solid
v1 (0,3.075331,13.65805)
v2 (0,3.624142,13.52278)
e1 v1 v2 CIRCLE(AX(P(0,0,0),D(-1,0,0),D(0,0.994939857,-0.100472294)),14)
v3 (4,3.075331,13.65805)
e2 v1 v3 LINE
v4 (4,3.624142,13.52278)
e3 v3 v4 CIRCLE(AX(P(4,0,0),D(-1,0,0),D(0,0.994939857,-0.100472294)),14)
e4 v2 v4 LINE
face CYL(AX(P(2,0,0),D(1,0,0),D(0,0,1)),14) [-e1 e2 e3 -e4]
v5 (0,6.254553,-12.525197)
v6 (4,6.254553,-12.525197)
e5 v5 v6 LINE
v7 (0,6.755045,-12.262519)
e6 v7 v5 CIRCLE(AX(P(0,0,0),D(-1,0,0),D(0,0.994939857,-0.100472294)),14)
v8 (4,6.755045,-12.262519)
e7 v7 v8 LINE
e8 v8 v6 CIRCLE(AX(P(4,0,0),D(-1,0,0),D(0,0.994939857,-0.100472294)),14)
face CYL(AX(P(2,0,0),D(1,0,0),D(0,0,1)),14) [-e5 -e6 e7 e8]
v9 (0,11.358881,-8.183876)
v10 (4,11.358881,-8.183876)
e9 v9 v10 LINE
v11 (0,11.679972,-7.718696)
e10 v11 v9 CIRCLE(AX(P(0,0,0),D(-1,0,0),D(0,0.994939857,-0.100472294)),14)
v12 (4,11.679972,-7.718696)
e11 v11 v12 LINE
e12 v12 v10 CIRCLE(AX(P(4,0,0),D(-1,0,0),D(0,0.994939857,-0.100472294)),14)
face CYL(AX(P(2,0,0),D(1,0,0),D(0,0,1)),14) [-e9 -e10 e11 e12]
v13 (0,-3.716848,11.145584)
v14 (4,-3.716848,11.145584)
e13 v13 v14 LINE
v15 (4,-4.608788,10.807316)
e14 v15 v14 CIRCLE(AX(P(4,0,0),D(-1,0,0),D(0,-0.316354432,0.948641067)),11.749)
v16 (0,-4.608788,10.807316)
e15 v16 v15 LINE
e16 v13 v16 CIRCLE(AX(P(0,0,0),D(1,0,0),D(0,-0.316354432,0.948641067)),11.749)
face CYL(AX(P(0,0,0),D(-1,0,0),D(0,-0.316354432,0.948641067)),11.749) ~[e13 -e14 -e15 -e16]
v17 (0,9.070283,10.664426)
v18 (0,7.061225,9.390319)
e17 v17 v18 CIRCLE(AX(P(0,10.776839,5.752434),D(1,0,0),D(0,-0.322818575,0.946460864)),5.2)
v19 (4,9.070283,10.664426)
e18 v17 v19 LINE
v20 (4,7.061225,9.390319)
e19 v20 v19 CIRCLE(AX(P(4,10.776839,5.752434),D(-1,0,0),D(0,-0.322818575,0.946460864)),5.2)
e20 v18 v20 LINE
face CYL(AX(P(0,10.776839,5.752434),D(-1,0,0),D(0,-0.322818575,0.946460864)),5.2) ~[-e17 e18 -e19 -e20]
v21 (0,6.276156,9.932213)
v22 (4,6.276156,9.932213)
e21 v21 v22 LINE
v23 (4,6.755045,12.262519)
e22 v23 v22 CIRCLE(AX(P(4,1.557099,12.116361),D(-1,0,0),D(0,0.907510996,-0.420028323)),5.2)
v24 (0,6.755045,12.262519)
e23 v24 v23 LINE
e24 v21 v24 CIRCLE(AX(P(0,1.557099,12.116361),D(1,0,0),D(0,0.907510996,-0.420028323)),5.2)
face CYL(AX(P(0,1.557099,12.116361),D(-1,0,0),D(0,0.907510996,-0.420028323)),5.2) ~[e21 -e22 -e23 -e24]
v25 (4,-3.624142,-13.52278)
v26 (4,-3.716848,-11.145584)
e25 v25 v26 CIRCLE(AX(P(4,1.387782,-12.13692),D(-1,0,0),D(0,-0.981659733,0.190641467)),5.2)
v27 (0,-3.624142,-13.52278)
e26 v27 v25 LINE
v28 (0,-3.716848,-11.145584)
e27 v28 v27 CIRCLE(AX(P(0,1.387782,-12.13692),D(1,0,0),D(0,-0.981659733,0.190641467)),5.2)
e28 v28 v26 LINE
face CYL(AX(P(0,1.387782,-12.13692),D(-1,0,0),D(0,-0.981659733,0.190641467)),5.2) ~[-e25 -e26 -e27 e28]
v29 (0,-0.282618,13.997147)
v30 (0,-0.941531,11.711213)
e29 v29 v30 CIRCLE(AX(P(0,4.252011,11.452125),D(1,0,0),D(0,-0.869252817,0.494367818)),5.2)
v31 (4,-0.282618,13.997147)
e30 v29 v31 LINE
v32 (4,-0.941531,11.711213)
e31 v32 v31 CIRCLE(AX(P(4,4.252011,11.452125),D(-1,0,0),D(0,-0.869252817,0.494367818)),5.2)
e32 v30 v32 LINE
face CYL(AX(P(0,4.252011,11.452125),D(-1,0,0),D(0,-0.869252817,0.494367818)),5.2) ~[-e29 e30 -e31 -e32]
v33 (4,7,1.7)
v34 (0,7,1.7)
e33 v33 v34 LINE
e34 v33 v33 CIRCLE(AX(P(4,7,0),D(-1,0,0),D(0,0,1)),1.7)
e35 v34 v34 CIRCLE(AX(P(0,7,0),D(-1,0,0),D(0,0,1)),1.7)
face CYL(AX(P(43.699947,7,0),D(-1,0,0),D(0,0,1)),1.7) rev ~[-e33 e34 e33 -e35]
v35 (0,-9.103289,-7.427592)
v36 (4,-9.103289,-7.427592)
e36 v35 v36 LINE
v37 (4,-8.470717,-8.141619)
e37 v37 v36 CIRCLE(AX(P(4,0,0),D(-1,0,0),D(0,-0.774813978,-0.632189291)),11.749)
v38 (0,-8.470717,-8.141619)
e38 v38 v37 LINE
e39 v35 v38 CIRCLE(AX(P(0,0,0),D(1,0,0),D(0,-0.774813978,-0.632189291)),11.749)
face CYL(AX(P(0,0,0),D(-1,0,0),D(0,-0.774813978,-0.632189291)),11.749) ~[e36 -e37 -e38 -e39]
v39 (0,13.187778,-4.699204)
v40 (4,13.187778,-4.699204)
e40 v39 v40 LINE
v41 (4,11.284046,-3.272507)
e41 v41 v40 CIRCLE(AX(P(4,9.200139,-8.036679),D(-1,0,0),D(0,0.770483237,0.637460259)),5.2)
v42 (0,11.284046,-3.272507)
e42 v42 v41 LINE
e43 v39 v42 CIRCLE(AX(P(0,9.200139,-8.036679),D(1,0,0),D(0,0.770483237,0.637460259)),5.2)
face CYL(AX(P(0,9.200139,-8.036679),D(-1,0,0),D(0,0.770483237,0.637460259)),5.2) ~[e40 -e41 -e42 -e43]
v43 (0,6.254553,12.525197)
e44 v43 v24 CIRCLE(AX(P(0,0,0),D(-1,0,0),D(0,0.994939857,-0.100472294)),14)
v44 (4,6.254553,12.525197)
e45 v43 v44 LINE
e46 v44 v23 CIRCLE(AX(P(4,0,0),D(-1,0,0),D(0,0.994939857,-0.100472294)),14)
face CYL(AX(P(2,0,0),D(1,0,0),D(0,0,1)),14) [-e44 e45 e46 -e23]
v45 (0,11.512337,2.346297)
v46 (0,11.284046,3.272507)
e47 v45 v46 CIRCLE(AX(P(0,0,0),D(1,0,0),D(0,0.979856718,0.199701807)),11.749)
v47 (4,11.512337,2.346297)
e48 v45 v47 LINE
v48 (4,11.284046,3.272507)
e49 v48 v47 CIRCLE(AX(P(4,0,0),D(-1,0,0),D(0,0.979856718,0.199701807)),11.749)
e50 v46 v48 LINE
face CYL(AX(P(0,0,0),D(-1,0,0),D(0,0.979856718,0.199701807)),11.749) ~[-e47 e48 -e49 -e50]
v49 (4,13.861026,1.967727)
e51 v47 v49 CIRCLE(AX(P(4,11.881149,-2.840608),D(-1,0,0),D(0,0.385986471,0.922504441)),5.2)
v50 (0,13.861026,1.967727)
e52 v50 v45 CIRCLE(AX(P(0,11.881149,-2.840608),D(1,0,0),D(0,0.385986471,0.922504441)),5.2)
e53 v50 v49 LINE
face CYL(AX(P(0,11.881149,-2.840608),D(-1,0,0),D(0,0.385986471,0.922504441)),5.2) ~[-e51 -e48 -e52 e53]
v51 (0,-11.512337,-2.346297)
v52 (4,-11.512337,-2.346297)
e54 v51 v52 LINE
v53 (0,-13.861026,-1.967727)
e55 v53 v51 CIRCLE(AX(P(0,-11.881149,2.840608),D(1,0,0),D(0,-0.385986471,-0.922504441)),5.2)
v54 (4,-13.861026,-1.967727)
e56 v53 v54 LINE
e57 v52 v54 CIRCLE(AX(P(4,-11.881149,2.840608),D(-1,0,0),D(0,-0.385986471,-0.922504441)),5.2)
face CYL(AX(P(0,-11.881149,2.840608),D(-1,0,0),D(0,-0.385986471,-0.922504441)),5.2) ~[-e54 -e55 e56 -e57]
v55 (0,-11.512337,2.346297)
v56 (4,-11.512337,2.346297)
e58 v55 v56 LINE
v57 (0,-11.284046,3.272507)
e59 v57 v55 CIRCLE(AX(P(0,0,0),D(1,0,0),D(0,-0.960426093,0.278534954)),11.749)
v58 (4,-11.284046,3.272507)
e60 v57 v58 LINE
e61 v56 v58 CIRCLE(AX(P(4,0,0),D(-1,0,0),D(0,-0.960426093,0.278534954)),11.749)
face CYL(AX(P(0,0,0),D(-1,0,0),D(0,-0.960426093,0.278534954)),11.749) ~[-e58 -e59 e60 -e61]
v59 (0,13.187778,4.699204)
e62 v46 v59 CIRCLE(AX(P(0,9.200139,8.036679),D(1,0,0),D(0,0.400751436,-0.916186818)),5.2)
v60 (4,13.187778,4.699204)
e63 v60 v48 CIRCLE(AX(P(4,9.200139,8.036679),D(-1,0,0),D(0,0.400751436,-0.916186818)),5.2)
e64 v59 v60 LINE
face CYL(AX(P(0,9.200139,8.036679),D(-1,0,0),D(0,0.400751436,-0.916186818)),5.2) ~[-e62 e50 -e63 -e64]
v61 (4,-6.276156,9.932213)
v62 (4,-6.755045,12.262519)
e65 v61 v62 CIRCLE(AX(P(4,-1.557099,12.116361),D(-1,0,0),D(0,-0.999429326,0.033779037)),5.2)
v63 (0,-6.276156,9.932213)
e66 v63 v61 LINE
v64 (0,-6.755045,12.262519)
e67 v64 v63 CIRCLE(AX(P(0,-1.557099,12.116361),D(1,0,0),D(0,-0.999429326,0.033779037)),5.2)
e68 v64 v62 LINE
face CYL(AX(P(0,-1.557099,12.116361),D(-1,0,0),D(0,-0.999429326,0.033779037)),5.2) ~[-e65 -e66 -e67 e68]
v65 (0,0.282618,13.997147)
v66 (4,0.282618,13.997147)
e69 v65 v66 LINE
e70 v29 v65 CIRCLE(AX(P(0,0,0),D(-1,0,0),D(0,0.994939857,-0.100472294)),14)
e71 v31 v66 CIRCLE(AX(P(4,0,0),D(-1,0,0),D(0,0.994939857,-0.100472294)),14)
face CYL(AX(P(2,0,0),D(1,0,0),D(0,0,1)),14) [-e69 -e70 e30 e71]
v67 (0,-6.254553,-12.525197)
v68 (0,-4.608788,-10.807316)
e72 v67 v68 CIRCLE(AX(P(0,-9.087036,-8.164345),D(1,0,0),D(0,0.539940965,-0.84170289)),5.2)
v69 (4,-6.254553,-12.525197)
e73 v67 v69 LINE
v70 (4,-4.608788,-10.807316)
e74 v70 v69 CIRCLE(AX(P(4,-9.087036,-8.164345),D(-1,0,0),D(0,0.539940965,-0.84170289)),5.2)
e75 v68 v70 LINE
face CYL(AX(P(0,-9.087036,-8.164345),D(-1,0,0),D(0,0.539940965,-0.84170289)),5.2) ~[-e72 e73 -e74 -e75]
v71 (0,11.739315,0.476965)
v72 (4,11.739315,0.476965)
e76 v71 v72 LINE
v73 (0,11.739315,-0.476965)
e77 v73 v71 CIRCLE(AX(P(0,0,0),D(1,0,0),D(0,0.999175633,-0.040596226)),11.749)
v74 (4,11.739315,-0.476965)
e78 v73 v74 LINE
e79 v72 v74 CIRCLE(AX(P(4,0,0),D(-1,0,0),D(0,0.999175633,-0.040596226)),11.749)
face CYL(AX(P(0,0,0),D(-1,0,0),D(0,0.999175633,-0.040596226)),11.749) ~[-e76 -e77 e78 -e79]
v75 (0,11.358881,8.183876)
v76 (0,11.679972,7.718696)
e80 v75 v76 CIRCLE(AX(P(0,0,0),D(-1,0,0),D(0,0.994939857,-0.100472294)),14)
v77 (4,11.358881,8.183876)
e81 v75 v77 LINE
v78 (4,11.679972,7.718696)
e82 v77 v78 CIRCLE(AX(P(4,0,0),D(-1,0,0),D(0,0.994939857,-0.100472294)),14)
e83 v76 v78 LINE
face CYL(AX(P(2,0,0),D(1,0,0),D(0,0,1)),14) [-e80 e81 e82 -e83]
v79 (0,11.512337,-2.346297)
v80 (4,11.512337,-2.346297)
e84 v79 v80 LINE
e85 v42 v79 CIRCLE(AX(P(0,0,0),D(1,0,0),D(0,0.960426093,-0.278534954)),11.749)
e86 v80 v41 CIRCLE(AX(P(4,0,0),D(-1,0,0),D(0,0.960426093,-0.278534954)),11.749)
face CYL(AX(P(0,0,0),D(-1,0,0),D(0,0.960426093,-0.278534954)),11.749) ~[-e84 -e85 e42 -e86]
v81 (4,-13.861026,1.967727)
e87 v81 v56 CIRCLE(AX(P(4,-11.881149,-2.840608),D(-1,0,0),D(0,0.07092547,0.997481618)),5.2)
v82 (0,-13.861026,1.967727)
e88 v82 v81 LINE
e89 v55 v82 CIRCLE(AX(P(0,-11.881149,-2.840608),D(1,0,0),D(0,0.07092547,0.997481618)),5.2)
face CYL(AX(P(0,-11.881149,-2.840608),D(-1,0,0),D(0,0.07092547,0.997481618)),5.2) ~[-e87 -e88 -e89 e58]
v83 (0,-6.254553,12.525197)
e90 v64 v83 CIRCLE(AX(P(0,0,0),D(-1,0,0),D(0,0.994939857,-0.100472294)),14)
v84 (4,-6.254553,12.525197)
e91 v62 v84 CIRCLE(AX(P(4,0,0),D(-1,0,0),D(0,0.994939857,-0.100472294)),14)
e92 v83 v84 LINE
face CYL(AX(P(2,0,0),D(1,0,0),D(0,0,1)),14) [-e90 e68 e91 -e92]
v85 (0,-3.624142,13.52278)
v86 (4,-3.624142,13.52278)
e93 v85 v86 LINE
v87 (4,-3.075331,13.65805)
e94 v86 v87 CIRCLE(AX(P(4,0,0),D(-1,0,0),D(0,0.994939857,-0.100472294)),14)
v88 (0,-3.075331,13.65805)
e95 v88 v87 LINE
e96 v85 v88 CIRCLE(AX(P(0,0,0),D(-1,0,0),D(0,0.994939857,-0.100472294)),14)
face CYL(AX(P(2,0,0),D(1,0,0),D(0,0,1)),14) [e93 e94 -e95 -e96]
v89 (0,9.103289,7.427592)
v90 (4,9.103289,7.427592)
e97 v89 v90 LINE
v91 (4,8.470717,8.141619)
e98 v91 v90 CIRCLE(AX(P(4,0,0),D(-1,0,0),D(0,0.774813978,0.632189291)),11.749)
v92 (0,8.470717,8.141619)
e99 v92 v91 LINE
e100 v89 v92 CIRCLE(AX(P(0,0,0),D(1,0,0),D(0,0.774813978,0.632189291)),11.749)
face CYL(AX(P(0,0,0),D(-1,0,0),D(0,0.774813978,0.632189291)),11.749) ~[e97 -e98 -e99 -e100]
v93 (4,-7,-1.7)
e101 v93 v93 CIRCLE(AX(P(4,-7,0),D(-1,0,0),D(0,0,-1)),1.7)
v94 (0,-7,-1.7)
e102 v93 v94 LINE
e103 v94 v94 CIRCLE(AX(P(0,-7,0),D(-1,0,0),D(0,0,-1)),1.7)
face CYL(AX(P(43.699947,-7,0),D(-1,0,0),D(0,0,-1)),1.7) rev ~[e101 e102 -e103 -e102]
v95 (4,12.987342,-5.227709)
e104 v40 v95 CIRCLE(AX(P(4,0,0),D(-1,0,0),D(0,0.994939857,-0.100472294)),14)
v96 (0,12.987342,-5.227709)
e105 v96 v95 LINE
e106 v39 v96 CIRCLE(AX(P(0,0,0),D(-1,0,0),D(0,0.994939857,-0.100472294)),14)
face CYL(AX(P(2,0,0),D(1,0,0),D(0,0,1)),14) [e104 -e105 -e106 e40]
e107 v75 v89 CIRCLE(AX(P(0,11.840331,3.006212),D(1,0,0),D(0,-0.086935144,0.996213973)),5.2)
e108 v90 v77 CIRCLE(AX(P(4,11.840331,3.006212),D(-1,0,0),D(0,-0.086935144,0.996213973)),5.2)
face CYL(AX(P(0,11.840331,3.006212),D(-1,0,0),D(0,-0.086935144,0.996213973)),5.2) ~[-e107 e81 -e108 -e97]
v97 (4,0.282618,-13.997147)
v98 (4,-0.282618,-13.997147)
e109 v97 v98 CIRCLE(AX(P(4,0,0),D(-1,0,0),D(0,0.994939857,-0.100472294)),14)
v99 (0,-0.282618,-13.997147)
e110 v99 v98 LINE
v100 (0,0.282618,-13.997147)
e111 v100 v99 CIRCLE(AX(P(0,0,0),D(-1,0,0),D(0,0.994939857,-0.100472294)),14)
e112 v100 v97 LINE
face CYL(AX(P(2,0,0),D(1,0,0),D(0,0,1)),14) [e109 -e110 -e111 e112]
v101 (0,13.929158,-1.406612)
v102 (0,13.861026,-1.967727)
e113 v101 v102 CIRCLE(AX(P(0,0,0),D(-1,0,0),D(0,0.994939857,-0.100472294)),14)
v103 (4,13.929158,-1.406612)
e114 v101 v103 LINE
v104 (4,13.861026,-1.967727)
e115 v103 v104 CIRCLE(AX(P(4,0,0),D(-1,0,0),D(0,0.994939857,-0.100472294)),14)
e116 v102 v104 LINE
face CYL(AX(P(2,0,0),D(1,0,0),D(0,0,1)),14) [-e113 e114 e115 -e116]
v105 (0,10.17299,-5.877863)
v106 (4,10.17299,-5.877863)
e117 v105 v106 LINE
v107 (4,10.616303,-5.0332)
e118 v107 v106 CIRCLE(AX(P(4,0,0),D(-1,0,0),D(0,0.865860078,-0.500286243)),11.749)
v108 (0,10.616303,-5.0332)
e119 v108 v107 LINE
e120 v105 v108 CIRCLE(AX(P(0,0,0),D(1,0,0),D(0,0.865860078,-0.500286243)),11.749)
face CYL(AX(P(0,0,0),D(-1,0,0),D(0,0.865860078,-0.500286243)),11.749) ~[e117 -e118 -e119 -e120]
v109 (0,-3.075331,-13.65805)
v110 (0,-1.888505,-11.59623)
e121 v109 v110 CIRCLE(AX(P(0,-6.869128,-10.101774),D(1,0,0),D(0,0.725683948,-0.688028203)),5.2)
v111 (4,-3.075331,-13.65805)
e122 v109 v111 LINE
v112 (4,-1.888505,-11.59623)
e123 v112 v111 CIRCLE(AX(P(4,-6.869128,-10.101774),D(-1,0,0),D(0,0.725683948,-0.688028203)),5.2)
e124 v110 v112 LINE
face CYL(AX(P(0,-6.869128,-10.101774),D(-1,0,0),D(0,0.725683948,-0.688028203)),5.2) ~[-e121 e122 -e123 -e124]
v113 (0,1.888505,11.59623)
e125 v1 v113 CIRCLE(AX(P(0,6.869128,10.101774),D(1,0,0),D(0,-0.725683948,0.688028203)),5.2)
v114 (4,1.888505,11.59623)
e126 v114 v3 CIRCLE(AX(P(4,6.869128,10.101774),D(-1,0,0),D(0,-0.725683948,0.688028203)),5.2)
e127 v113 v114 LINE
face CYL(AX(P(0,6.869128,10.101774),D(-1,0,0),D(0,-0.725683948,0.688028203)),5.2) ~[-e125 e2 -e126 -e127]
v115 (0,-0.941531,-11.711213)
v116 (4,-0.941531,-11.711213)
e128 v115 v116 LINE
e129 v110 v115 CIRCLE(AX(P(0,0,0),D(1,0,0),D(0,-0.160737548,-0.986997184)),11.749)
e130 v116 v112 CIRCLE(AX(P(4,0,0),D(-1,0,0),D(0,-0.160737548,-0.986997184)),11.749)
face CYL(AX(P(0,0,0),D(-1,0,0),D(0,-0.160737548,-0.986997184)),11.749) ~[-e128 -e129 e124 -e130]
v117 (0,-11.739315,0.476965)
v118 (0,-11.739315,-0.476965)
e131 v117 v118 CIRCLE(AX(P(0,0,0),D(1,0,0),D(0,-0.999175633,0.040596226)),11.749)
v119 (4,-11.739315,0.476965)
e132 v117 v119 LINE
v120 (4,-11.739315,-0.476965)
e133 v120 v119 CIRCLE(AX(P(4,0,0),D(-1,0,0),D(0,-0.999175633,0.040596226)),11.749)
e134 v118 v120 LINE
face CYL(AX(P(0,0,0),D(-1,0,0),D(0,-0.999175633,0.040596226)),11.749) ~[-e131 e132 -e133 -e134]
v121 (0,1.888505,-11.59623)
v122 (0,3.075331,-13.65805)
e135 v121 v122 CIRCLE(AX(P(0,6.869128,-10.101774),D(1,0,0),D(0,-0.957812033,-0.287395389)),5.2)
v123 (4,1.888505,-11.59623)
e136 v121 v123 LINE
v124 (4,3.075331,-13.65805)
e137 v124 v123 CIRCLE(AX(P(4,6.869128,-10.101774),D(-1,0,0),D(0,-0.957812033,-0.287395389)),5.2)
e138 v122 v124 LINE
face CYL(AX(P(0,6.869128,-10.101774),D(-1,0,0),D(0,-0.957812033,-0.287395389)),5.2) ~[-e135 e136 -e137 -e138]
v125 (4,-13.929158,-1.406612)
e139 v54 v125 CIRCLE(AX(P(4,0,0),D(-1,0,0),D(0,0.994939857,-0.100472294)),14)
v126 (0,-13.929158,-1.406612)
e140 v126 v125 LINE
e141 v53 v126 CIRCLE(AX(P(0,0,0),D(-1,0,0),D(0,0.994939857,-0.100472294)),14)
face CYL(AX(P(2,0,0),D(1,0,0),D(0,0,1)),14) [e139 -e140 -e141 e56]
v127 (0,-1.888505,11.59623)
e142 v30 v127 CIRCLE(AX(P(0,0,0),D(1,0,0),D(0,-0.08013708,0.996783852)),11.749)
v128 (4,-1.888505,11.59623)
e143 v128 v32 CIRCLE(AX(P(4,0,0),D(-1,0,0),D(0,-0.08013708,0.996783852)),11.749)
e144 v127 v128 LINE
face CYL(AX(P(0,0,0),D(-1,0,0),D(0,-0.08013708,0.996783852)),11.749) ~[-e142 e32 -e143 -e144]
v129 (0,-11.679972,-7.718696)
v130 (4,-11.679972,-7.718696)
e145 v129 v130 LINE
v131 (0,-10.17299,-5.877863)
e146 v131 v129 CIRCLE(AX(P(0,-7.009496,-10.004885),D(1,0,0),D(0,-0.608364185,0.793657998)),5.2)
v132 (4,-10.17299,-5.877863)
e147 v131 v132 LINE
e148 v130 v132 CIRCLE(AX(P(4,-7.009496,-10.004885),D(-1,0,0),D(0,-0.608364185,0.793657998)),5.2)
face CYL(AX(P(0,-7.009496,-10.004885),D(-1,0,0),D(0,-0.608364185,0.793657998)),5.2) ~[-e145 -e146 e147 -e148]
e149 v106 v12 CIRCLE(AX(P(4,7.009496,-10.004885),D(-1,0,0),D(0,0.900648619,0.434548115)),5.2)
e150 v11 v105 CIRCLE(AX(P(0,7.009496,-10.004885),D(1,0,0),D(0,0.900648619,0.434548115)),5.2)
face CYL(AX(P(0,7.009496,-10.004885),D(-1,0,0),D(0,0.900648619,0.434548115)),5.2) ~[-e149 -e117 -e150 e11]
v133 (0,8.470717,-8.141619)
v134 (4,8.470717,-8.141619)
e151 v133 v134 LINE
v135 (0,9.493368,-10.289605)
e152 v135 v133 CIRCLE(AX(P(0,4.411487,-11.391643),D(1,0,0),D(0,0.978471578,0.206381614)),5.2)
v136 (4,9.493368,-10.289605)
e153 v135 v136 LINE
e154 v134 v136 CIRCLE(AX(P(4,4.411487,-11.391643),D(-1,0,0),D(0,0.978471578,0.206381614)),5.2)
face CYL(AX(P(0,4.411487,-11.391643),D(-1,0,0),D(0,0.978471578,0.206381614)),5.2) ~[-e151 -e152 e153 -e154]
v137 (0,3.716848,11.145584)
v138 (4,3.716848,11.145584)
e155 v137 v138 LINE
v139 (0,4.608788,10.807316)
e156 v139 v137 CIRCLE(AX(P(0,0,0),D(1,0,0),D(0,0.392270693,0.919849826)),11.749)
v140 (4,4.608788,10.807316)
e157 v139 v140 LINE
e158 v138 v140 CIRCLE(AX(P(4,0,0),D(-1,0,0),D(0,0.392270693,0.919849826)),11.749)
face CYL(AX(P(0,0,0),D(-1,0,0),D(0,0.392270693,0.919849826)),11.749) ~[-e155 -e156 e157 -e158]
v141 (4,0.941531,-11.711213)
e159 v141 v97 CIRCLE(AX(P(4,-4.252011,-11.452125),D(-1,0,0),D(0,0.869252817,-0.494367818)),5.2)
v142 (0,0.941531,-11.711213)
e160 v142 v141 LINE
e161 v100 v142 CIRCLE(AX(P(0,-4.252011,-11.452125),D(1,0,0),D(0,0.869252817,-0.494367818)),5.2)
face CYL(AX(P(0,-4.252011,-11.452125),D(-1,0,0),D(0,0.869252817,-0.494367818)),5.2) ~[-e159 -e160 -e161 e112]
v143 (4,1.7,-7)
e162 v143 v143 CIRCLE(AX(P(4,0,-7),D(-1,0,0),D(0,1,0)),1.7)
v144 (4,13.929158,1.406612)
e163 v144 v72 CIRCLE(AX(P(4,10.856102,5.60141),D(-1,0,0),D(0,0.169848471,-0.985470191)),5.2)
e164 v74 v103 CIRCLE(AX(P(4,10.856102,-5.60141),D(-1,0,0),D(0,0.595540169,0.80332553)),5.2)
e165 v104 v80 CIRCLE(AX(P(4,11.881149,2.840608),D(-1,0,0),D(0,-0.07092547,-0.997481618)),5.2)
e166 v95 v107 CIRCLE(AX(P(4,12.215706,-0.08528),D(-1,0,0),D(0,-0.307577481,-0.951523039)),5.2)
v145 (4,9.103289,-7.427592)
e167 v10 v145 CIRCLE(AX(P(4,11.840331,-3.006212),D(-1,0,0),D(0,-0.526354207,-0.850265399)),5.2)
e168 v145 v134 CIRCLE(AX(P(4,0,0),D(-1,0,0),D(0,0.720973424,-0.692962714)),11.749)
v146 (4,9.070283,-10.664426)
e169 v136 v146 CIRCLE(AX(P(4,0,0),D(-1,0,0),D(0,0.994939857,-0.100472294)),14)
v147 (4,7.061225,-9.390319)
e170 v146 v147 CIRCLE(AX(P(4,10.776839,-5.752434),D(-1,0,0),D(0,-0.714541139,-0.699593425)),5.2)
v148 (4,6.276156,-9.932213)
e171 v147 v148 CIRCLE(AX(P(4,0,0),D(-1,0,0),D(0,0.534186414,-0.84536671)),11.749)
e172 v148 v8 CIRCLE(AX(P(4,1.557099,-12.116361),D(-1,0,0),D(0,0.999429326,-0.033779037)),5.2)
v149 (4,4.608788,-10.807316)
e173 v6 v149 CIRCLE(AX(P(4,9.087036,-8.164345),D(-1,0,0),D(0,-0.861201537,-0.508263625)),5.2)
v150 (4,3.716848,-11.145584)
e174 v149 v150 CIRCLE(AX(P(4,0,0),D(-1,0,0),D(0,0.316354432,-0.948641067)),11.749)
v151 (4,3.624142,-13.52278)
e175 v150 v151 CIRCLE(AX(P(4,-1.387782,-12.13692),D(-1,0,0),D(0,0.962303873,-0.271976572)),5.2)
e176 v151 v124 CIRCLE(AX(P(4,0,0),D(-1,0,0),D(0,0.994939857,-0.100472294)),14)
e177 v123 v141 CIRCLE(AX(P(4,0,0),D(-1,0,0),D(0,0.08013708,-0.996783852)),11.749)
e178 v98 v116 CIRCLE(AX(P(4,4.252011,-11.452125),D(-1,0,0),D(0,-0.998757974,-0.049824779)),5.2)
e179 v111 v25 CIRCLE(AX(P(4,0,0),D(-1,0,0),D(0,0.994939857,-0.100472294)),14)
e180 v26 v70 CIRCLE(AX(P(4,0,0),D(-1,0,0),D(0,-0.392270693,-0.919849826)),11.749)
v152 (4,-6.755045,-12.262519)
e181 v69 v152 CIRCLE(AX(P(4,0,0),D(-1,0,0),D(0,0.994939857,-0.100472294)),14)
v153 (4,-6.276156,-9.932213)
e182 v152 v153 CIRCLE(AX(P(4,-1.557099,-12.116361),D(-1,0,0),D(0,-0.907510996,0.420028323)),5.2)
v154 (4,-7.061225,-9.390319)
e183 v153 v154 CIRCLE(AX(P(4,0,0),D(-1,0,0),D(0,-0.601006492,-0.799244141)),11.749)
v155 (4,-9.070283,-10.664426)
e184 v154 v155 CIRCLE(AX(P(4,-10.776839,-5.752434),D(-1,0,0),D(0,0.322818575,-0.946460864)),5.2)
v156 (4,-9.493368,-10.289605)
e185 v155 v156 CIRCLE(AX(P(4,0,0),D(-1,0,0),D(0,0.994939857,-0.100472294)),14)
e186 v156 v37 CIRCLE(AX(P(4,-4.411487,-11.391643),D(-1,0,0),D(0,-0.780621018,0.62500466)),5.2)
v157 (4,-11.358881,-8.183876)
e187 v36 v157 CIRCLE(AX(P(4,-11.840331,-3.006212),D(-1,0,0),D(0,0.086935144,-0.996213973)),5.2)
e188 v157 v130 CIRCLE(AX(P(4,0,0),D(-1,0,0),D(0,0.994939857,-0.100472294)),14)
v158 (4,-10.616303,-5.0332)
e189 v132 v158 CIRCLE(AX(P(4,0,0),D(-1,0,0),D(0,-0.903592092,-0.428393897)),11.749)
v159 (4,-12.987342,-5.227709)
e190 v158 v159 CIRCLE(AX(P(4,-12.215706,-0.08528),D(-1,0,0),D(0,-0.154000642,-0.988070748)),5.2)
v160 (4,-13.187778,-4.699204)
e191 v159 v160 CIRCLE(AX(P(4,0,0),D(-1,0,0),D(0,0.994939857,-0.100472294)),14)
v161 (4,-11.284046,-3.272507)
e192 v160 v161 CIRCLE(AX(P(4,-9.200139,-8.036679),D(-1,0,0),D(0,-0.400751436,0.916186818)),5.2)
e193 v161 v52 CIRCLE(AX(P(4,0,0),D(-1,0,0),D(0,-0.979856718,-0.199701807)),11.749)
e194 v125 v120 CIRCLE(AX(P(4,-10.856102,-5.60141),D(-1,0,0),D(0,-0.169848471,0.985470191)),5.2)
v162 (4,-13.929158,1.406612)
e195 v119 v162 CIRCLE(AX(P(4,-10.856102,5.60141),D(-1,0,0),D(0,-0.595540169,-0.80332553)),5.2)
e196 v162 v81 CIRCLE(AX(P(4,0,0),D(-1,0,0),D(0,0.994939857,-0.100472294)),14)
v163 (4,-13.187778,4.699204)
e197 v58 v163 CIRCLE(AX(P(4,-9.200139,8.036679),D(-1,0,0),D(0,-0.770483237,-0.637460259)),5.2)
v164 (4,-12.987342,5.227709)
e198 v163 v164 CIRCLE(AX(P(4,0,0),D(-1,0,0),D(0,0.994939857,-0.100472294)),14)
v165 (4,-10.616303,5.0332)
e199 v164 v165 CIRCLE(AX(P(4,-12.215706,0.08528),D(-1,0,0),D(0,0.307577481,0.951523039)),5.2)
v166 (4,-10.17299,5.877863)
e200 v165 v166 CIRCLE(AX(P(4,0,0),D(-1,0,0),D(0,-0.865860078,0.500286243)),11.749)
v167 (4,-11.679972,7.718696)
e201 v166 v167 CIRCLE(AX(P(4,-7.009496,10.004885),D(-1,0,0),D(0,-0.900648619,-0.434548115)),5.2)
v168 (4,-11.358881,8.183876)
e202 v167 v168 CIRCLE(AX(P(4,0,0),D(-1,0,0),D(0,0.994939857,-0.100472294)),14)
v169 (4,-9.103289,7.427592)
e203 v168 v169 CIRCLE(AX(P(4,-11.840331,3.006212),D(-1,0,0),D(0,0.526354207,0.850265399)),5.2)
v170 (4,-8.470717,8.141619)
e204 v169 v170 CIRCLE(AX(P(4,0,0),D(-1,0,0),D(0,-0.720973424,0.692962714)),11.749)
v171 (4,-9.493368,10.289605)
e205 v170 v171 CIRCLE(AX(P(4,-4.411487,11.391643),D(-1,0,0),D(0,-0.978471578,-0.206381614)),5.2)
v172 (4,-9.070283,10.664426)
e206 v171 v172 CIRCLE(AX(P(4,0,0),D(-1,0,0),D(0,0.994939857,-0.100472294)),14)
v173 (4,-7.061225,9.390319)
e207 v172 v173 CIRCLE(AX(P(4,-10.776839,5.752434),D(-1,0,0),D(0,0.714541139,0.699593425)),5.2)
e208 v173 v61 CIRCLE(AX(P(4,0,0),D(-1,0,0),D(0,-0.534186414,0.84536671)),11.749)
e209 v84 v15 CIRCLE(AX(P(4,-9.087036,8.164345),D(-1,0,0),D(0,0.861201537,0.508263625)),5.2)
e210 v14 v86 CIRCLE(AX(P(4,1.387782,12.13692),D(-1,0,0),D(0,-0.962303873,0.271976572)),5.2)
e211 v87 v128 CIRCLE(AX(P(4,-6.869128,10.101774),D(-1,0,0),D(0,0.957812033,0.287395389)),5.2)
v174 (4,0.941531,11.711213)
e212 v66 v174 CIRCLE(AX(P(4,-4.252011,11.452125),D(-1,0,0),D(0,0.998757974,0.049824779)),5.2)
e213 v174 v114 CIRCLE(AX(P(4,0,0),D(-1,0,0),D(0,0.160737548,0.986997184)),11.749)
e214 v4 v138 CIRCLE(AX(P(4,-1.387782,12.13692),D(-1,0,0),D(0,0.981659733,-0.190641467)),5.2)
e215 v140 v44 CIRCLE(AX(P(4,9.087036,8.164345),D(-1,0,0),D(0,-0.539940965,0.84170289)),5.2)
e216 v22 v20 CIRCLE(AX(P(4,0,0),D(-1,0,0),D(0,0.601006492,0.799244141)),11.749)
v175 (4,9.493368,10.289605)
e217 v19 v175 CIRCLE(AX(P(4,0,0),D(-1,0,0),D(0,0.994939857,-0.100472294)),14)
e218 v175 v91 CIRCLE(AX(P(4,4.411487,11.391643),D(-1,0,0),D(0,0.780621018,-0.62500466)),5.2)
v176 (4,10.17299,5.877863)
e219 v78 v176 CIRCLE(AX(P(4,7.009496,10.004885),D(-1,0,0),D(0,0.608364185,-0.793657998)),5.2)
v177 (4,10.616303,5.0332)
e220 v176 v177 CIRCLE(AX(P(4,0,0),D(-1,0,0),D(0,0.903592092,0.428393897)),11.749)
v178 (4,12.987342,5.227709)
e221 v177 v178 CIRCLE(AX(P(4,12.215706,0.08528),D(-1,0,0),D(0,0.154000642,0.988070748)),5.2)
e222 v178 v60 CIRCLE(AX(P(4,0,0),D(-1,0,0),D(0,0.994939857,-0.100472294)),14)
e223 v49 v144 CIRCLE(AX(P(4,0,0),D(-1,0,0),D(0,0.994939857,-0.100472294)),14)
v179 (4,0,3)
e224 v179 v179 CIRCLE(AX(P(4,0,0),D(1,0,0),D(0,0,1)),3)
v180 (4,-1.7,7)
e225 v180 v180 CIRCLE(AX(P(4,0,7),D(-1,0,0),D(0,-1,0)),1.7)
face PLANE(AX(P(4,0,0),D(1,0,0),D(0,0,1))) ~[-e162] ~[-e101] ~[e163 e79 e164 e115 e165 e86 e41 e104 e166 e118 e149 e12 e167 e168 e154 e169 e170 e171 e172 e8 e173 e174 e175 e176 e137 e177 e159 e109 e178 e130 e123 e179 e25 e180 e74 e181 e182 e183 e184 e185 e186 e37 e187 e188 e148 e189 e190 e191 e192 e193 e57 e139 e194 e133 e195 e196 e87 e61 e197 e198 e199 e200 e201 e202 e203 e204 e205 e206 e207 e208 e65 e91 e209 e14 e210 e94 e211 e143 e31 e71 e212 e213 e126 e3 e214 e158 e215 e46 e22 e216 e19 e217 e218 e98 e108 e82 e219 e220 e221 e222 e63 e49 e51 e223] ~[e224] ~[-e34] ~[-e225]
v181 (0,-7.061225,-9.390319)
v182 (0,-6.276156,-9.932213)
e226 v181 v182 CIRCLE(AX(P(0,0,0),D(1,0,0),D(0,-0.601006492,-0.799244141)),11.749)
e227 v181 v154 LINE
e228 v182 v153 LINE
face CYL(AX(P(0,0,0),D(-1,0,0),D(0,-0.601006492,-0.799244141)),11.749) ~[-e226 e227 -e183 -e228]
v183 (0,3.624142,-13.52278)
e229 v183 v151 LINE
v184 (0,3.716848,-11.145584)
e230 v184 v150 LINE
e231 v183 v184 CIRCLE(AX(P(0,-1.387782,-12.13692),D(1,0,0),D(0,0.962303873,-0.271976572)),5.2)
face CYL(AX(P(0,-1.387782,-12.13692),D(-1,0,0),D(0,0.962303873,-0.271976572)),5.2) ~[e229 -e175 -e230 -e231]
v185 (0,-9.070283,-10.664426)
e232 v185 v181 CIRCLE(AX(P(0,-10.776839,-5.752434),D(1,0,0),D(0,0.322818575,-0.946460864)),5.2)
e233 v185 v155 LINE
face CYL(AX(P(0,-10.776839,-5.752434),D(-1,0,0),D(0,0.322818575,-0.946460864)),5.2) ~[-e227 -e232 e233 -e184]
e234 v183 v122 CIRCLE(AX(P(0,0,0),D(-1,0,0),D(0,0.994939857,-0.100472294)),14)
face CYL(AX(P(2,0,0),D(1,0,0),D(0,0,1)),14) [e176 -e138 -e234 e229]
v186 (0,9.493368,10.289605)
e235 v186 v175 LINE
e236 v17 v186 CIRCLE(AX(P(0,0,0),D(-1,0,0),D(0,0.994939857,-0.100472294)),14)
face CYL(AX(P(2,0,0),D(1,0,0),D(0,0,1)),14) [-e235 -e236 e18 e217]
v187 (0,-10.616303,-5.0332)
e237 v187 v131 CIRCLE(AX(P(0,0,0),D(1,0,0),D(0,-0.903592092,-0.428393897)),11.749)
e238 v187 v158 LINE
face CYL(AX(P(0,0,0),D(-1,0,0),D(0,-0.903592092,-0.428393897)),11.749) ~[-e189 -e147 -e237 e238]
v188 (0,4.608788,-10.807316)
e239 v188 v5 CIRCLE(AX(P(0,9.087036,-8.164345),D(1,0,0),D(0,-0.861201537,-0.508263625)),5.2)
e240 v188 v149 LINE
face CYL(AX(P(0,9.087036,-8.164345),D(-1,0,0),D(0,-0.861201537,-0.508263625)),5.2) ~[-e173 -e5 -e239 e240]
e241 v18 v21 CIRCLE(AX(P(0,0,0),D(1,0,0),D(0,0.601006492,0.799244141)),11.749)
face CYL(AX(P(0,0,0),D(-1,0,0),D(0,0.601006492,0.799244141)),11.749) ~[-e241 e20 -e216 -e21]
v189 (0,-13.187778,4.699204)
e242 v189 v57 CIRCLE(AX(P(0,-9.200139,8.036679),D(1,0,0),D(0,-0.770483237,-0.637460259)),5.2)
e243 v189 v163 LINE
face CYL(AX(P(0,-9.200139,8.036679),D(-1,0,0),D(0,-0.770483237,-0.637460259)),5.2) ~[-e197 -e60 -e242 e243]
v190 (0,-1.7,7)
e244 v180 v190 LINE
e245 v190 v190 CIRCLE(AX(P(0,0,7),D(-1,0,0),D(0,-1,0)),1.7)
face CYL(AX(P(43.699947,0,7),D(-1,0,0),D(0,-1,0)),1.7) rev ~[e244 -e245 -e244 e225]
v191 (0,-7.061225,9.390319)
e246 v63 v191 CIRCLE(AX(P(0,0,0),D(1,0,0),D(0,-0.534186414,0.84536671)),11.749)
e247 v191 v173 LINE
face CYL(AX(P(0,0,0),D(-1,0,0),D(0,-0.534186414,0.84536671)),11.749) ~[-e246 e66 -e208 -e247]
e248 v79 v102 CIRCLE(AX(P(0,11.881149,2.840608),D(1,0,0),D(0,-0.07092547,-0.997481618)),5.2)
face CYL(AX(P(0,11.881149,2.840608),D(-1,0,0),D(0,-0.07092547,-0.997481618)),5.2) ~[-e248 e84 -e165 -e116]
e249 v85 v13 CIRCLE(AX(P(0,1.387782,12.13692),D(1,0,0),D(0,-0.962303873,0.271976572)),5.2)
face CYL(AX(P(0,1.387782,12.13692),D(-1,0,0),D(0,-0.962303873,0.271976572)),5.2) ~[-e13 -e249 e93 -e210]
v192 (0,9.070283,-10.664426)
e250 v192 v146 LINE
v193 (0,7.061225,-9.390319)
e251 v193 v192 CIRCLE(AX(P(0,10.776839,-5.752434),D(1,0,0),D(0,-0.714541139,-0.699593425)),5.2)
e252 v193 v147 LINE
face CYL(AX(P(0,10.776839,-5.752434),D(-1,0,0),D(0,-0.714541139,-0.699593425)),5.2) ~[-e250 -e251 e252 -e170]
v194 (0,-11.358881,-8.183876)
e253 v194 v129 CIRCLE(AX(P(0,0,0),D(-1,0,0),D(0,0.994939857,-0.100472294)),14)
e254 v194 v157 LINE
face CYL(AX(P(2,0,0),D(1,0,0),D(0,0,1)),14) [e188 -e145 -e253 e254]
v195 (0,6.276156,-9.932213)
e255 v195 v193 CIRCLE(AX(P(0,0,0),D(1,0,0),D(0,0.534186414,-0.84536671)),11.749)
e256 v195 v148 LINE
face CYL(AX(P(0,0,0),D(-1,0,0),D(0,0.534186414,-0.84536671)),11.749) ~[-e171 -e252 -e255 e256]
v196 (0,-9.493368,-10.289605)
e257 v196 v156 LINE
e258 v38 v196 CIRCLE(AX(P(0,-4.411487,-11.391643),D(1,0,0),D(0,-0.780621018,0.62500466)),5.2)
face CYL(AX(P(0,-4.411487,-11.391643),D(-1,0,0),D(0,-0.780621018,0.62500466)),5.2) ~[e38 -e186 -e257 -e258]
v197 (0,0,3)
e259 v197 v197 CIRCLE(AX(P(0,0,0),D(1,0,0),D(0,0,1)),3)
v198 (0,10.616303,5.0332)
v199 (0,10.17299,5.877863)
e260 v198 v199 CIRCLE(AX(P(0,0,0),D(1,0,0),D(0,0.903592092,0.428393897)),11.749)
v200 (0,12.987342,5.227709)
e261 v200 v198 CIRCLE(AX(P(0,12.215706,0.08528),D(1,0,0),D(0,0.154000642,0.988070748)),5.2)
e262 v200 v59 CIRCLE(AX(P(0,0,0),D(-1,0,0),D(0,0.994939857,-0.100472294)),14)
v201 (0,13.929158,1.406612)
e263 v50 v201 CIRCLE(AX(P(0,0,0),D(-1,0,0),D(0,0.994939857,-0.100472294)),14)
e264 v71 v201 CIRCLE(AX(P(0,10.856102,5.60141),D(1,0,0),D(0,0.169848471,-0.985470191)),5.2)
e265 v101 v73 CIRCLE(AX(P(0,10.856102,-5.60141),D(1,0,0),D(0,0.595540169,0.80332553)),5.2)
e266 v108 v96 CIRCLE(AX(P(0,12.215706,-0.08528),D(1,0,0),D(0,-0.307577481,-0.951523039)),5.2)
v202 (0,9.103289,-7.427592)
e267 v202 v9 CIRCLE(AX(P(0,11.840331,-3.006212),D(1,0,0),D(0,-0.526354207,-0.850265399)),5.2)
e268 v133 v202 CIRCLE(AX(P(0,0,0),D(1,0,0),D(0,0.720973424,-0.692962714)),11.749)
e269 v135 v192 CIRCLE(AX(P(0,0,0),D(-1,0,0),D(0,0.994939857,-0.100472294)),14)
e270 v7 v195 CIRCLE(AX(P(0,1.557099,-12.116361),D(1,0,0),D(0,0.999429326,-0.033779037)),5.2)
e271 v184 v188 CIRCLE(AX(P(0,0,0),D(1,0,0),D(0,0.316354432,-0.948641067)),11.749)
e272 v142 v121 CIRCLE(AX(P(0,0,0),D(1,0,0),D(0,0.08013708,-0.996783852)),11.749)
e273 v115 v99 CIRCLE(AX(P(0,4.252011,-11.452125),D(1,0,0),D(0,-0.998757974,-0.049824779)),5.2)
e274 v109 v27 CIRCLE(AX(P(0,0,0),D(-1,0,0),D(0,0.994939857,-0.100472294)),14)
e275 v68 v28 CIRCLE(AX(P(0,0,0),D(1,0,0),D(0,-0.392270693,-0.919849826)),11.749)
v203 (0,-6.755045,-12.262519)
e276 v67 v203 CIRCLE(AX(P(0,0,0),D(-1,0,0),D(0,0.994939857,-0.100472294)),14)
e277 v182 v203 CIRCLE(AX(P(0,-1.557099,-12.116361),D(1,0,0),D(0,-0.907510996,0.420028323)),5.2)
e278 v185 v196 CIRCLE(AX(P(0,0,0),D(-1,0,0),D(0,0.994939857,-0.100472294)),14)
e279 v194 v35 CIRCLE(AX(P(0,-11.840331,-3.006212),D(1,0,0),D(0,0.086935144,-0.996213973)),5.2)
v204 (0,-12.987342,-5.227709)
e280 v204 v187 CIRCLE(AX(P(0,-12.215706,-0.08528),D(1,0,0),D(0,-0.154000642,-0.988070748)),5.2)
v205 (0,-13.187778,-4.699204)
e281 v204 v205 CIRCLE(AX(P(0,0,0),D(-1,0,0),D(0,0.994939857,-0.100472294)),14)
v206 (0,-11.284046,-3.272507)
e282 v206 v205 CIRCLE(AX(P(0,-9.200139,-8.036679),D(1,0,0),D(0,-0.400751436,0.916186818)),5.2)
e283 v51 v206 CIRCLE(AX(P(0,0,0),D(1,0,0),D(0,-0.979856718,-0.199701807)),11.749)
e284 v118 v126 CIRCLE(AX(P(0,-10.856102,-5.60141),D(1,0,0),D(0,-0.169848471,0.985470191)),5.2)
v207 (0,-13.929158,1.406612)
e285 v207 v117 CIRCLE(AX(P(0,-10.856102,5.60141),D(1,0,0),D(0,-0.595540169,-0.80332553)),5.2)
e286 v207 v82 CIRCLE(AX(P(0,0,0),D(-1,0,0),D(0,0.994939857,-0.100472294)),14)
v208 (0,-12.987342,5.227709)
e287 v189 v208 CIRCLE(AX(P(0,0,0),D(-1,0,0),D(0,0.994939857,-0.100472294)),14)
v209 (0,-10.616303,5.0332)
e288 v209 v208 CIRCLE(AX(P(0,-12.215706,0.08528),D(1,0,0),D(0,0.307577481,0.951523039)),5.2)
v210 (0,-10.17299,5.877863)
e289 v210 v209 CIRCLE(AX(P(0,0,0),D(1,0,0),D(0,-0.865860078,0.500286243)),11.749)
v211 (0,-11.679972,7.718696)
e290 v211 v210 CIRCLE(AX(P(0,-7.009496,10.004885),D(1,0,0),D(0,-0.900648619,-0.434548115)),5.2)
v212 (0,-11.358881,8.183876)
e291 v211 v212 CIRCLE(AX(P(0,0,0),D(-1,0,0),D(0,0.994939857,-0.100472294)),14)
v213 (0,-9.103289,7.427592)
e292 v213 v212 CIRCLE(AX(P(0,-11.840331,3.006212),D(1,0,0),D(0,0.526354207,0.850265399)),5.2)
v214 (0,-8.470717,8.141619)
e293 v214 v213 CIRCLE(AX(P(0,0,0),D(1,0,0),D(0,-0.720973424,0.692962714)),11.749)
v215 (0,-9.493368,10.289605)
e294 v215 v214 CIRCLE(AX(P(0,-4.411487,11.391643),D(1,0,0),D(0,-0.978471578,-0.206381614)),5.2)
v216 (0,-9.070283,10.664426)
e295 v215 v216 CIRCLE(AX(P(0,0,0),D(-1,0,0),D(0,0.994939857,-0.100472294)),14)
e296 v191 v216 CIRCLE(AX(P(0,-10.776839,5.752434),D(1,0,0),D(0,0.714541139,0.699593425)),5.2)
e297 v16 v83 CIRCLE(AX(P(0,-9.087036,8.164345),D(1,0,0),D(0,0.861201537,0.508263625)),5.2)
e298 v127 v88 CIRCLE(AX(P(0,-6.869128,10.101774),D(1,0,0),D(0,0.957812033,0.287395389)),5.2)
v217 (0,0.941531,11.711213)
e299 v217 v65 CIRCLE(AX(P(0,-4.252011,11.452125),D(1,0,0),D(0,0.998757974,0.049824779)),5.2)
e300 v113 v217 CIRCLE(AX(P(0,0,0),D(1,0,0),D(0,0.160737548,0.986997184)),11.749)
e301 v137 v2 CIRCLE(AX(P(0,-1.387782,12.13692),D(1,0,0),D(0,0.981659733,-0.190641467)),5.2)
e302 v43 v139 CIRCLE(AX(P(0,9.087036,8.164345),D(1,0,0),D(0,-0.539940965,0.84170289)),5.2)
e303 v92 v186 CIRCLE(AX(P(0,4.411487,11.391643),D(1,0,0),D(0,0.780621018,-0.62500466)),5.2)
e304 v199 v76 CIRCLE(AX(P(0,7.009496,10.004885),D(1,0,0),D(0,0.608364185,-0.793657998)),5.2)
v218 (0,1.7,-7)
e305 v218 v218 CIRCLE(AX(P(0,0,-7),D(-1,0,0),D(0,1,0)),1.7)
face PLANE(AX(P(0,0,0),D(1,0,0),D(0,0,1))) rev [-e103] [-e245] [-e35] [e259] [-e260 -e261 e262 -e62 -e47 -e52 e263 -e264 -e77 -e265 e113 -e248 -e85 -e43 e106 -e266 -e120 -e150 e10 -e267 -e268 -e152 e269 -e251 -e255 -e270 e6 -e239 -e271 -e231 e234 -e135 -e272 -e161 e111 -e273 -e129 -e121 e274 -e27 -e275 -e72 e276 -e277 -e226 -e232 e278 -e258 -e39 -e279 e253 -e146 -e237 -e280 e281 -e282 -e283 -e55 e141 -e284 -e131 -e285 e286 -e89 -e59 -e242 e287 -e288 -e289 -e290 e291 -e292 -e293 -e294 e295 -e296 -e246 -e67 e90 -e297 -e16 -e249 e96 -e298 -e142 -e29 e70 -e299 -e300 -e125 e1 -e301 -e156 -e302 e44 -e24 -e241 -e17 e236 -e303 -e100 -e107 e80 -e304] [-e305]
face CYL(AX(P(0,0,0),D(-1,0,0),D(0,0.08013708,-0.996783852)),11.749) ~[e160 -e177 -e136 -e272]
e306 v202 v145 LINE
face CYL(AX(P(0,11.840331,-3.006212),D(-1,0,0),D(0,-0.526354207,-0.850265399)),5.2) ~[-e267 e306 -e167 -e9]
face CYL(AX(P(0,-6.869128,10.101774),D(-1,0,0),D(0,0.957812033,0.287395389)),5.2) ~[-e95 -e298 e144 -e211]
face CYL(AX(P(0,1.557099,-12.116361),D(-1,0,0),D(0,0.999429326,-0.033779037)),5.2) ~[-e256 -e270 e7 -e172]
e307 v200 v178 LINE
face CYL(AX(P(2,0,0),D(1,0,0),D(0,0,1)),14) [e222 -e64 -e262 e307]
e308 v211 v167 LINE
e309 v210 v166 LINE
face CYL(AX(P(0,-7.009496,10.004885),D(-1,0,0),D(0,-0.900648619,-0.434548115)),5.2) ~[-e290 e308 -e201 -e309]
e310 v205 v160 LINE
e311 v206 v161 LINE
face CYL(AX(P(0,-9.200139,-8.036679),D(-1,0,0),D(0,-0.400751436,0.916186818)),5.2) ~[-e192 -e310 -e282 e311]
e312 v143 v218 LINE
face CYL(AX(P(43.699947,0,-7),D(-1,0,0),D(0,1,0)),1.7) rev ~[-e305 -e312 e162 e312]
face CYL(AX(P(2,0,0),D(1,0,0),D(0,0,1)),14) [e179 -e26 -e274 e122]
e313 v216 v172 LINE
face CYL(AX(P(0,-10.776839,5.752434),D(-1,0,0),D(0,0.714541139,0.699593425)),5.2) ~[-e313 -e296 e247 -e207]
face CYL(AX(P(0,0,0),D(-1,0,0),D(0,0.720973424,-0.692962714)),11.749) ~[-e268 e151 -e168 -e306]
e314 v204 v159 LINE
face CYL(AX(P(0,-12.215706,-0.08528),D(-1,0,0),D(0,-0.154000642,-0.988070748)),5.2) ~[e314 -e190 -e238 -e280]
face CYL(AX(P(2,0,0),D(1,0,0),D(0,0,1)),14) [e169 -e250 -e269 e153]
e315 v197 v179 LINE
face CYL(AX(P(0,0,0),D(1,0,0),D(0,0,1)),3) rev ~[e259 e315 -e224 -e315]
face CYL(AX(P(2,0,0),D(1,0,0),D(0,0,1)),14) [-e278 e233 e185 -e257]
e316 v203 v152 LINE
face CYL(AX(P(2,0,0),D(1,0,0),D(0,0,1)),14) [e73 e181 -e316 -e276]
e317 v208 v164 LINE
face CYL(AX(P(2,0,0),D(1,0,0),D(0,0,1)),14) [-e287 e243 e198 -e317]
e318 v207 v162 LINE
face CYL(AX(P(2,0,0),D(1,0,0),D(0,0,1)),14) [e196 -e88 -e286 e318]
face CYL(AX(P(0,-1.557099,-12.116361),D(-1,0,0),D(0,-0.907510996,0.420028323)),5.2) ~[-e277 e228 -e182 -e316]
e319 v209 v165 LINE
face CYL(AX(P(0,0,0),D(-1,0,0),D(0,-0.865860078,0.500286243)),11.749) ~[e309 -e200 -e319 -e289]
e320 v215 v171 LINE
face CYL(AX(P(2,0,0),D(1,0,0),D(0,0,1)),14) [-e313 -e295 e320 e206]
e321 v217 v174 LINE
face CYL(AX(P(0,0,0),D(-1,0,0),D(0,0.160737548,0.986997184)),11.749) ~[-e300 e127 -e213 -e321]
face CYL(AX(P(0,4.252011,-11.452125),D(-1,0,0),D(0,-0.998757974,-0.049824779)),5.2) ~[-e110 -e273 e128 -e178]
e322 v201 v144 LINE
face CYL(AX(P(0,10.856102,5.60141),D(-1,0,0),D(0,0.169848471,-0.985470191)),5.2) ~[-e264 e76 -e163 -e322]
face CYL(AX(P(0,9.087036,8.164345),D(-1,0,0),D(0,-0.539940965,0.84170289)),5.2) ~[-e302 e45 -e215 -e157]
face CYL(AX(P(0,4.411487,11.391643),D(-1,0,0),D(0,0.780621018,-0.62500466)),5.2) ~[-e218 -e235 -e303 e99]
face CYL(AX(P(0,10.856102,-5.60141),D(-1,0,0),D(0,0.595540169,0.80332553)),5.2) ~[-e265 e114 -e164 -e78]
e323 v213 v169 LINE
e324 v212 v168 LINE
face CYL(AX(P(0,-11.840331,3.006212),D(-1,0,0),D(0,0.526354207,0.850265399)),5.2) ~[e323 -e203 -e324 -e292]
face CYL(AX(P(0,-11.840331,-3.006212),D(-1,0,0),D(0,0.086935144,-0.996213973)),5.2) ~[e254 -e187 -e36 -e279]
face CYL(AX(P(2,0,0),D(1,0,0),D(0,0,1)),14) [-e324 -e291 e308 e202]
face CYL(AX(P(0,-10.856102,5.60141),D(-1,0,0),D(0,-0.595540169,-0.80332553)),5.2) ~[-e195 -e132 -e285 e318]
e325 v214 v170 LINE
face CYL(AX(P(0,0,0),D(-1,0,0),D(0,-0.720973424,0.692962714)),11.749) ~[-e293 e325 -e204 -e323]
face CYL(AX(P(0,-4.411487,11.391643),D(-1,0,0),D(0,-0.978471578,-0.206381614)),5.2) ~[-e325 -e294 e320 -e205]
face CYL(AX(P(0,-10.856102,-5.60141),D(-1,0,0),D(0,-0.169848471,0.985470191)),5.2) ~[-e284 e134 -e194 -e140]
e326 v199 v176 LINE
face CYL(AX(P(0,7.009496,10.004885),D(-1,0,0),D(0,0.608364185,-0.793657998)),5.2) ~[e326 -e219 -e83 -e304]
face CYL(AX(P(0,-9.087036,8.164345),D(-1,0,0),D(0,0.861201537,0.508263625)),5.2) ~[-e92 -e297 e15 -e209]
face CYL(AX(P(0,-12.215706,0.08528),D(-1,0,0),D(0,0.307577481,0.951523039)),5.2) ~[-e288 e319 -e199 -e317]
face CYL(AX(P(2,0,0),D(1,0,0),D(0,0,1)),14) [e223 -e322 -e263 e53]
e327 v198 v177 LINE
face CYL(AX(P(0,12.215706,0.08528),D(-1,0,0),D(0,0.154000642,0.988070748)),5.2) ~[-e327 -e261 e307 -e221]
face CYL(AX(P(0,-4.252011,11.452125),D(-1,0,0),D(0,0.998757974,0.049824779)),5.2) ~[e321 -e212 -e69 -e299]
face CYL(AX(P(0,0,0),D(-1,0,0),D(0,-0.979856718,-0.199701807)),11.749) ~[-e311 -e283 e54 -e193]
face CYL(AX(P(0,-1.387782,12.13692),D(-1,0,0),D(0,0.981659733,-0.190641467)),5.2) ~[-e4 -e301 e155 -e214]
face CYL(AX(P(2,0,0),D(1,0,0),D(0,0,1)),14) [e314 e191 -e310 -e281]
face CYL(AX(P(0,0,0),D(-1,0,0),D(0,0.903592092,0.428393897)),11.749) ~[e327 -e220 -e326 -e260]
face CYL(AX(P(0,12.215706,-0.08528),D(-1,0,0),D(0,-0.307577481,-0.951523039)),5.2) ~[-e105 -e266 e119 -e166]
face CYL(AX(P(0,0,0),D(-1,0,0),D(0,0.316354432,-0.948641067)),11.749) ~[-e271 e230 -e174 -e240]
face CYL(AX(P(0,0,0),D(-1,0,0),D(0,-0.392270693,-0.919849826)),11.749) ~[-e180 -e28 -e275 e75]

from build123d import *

# Parameters (mm, degrees)
BASPROSKE_W        = 4
BASPROSKE_H        = 14
TOOTHCUT_DEPTH     = 21.199009877
TEETHCUTS_COUNT    = 26
TEETHCUTS_ANGLE    = 346.153846154
BORSKE_R           = 3
BORE_DEPTH         = 50.0000508
HOLE_WIZARD_M3_1_D = 3.4
CIRPATTERN1_COUNT  = 4


with BuildPart() as part:
    # BasProSke → Base-Revolve (revolve)
    with BuildSketch(Plane(origin=(0, 0, 0), x_dir=(1, 0, 0), z_dir=(0, 1, 0)), mode=Mode.PRIVATE) as base_revolve_sk:
        with Locations((2, 7)):
            Rectangle(BASPROSKE_W, BASPROSKE_H)
    revolve(base_revolve_sk.sketch.rotate(Axis((-10, 0, 0), (1, 0, 0)), 180), axis=Axis((-10, 0, 0), (1, 0, 0)))

    # TooCutSke → ToothCut (cut, through all)
    with BuildSketch(Plane(origin=(0, 0, 0), x_dir=(0, 0, -1), z_dir=(1, 0, 0))):
        with BuildLine():
            ThreePointArc((0.476965065, 11.739314517), (0, 11.749), (-0.476965065, 11.739314517))
            ThreePointArc((-0.476965065, 11.739314517), (-0.82065865, 12.901686978), (-1.424117301, 13.952911348))
            ThreePointArc((-1.424117301, 13.952911348), (0, 14.0254), (1.424117301, 13.952911348))
            ThreePointArc((1.424117301, 13.952911348), (0.82065865, 12.901686978), (0.476965065, 11.739314517))
        make_face()
    toothcut = extrude(amount=TOOTHCUT_DEPTH, mode=Mode.SUBTRACT)

    # TeethCuts: ToothCut ×26 about axis
    teethcuts_axis = Axis((-10, 0, 0), (1, 0, 0))
    for i in range(1, TEETHCUTS_COUNT):
        add(toothcut.rotate(teethcuts_axis, i * TEETHCUTS_ANGLE / (TEETHCUTS_COUNT - 1)), mode=Mode.SUBTRACT)

    # BorSke → Bore (cut, symmetric)
    with BuildSketch(Plane(origin=(0, 0, 0), x_dir=(0, 0, -1), z_dir=(1, 0, 0))):
        with Locations(Location((0, 0, 0), (0, 0, 180))):
            Circle(BORSKE_R)
    extrude(amount=BORE_DEPTH, both=True, mode=Mode.SUBTRACT)

    # M3 餘隙孔1 (through all)
    with Locations(Plane(origin=(4, 0, 0), x_dir=(0, 0, -1), z_dir=(1, 0, 0))):
        with Locations((0, 7)):
            hole_wizard_m3_1 = Hole(HOLE_WIZARD_M3_1_D / 2)

    # CirPattern1: M3 餘隙孔1 ×4 about axis
    cirpattern1_axis = Axis((0, 0, 0), (1, 0, 0))
    for i in range(1, CIRPATTERN1_COUNT):
        add(hole_wizard_m3_1.rotate(cirpattern1_axis, i * 360 / CIRPATTERN1_COUNT), mode=Mode.SUBTRACT)


solid = part.part
